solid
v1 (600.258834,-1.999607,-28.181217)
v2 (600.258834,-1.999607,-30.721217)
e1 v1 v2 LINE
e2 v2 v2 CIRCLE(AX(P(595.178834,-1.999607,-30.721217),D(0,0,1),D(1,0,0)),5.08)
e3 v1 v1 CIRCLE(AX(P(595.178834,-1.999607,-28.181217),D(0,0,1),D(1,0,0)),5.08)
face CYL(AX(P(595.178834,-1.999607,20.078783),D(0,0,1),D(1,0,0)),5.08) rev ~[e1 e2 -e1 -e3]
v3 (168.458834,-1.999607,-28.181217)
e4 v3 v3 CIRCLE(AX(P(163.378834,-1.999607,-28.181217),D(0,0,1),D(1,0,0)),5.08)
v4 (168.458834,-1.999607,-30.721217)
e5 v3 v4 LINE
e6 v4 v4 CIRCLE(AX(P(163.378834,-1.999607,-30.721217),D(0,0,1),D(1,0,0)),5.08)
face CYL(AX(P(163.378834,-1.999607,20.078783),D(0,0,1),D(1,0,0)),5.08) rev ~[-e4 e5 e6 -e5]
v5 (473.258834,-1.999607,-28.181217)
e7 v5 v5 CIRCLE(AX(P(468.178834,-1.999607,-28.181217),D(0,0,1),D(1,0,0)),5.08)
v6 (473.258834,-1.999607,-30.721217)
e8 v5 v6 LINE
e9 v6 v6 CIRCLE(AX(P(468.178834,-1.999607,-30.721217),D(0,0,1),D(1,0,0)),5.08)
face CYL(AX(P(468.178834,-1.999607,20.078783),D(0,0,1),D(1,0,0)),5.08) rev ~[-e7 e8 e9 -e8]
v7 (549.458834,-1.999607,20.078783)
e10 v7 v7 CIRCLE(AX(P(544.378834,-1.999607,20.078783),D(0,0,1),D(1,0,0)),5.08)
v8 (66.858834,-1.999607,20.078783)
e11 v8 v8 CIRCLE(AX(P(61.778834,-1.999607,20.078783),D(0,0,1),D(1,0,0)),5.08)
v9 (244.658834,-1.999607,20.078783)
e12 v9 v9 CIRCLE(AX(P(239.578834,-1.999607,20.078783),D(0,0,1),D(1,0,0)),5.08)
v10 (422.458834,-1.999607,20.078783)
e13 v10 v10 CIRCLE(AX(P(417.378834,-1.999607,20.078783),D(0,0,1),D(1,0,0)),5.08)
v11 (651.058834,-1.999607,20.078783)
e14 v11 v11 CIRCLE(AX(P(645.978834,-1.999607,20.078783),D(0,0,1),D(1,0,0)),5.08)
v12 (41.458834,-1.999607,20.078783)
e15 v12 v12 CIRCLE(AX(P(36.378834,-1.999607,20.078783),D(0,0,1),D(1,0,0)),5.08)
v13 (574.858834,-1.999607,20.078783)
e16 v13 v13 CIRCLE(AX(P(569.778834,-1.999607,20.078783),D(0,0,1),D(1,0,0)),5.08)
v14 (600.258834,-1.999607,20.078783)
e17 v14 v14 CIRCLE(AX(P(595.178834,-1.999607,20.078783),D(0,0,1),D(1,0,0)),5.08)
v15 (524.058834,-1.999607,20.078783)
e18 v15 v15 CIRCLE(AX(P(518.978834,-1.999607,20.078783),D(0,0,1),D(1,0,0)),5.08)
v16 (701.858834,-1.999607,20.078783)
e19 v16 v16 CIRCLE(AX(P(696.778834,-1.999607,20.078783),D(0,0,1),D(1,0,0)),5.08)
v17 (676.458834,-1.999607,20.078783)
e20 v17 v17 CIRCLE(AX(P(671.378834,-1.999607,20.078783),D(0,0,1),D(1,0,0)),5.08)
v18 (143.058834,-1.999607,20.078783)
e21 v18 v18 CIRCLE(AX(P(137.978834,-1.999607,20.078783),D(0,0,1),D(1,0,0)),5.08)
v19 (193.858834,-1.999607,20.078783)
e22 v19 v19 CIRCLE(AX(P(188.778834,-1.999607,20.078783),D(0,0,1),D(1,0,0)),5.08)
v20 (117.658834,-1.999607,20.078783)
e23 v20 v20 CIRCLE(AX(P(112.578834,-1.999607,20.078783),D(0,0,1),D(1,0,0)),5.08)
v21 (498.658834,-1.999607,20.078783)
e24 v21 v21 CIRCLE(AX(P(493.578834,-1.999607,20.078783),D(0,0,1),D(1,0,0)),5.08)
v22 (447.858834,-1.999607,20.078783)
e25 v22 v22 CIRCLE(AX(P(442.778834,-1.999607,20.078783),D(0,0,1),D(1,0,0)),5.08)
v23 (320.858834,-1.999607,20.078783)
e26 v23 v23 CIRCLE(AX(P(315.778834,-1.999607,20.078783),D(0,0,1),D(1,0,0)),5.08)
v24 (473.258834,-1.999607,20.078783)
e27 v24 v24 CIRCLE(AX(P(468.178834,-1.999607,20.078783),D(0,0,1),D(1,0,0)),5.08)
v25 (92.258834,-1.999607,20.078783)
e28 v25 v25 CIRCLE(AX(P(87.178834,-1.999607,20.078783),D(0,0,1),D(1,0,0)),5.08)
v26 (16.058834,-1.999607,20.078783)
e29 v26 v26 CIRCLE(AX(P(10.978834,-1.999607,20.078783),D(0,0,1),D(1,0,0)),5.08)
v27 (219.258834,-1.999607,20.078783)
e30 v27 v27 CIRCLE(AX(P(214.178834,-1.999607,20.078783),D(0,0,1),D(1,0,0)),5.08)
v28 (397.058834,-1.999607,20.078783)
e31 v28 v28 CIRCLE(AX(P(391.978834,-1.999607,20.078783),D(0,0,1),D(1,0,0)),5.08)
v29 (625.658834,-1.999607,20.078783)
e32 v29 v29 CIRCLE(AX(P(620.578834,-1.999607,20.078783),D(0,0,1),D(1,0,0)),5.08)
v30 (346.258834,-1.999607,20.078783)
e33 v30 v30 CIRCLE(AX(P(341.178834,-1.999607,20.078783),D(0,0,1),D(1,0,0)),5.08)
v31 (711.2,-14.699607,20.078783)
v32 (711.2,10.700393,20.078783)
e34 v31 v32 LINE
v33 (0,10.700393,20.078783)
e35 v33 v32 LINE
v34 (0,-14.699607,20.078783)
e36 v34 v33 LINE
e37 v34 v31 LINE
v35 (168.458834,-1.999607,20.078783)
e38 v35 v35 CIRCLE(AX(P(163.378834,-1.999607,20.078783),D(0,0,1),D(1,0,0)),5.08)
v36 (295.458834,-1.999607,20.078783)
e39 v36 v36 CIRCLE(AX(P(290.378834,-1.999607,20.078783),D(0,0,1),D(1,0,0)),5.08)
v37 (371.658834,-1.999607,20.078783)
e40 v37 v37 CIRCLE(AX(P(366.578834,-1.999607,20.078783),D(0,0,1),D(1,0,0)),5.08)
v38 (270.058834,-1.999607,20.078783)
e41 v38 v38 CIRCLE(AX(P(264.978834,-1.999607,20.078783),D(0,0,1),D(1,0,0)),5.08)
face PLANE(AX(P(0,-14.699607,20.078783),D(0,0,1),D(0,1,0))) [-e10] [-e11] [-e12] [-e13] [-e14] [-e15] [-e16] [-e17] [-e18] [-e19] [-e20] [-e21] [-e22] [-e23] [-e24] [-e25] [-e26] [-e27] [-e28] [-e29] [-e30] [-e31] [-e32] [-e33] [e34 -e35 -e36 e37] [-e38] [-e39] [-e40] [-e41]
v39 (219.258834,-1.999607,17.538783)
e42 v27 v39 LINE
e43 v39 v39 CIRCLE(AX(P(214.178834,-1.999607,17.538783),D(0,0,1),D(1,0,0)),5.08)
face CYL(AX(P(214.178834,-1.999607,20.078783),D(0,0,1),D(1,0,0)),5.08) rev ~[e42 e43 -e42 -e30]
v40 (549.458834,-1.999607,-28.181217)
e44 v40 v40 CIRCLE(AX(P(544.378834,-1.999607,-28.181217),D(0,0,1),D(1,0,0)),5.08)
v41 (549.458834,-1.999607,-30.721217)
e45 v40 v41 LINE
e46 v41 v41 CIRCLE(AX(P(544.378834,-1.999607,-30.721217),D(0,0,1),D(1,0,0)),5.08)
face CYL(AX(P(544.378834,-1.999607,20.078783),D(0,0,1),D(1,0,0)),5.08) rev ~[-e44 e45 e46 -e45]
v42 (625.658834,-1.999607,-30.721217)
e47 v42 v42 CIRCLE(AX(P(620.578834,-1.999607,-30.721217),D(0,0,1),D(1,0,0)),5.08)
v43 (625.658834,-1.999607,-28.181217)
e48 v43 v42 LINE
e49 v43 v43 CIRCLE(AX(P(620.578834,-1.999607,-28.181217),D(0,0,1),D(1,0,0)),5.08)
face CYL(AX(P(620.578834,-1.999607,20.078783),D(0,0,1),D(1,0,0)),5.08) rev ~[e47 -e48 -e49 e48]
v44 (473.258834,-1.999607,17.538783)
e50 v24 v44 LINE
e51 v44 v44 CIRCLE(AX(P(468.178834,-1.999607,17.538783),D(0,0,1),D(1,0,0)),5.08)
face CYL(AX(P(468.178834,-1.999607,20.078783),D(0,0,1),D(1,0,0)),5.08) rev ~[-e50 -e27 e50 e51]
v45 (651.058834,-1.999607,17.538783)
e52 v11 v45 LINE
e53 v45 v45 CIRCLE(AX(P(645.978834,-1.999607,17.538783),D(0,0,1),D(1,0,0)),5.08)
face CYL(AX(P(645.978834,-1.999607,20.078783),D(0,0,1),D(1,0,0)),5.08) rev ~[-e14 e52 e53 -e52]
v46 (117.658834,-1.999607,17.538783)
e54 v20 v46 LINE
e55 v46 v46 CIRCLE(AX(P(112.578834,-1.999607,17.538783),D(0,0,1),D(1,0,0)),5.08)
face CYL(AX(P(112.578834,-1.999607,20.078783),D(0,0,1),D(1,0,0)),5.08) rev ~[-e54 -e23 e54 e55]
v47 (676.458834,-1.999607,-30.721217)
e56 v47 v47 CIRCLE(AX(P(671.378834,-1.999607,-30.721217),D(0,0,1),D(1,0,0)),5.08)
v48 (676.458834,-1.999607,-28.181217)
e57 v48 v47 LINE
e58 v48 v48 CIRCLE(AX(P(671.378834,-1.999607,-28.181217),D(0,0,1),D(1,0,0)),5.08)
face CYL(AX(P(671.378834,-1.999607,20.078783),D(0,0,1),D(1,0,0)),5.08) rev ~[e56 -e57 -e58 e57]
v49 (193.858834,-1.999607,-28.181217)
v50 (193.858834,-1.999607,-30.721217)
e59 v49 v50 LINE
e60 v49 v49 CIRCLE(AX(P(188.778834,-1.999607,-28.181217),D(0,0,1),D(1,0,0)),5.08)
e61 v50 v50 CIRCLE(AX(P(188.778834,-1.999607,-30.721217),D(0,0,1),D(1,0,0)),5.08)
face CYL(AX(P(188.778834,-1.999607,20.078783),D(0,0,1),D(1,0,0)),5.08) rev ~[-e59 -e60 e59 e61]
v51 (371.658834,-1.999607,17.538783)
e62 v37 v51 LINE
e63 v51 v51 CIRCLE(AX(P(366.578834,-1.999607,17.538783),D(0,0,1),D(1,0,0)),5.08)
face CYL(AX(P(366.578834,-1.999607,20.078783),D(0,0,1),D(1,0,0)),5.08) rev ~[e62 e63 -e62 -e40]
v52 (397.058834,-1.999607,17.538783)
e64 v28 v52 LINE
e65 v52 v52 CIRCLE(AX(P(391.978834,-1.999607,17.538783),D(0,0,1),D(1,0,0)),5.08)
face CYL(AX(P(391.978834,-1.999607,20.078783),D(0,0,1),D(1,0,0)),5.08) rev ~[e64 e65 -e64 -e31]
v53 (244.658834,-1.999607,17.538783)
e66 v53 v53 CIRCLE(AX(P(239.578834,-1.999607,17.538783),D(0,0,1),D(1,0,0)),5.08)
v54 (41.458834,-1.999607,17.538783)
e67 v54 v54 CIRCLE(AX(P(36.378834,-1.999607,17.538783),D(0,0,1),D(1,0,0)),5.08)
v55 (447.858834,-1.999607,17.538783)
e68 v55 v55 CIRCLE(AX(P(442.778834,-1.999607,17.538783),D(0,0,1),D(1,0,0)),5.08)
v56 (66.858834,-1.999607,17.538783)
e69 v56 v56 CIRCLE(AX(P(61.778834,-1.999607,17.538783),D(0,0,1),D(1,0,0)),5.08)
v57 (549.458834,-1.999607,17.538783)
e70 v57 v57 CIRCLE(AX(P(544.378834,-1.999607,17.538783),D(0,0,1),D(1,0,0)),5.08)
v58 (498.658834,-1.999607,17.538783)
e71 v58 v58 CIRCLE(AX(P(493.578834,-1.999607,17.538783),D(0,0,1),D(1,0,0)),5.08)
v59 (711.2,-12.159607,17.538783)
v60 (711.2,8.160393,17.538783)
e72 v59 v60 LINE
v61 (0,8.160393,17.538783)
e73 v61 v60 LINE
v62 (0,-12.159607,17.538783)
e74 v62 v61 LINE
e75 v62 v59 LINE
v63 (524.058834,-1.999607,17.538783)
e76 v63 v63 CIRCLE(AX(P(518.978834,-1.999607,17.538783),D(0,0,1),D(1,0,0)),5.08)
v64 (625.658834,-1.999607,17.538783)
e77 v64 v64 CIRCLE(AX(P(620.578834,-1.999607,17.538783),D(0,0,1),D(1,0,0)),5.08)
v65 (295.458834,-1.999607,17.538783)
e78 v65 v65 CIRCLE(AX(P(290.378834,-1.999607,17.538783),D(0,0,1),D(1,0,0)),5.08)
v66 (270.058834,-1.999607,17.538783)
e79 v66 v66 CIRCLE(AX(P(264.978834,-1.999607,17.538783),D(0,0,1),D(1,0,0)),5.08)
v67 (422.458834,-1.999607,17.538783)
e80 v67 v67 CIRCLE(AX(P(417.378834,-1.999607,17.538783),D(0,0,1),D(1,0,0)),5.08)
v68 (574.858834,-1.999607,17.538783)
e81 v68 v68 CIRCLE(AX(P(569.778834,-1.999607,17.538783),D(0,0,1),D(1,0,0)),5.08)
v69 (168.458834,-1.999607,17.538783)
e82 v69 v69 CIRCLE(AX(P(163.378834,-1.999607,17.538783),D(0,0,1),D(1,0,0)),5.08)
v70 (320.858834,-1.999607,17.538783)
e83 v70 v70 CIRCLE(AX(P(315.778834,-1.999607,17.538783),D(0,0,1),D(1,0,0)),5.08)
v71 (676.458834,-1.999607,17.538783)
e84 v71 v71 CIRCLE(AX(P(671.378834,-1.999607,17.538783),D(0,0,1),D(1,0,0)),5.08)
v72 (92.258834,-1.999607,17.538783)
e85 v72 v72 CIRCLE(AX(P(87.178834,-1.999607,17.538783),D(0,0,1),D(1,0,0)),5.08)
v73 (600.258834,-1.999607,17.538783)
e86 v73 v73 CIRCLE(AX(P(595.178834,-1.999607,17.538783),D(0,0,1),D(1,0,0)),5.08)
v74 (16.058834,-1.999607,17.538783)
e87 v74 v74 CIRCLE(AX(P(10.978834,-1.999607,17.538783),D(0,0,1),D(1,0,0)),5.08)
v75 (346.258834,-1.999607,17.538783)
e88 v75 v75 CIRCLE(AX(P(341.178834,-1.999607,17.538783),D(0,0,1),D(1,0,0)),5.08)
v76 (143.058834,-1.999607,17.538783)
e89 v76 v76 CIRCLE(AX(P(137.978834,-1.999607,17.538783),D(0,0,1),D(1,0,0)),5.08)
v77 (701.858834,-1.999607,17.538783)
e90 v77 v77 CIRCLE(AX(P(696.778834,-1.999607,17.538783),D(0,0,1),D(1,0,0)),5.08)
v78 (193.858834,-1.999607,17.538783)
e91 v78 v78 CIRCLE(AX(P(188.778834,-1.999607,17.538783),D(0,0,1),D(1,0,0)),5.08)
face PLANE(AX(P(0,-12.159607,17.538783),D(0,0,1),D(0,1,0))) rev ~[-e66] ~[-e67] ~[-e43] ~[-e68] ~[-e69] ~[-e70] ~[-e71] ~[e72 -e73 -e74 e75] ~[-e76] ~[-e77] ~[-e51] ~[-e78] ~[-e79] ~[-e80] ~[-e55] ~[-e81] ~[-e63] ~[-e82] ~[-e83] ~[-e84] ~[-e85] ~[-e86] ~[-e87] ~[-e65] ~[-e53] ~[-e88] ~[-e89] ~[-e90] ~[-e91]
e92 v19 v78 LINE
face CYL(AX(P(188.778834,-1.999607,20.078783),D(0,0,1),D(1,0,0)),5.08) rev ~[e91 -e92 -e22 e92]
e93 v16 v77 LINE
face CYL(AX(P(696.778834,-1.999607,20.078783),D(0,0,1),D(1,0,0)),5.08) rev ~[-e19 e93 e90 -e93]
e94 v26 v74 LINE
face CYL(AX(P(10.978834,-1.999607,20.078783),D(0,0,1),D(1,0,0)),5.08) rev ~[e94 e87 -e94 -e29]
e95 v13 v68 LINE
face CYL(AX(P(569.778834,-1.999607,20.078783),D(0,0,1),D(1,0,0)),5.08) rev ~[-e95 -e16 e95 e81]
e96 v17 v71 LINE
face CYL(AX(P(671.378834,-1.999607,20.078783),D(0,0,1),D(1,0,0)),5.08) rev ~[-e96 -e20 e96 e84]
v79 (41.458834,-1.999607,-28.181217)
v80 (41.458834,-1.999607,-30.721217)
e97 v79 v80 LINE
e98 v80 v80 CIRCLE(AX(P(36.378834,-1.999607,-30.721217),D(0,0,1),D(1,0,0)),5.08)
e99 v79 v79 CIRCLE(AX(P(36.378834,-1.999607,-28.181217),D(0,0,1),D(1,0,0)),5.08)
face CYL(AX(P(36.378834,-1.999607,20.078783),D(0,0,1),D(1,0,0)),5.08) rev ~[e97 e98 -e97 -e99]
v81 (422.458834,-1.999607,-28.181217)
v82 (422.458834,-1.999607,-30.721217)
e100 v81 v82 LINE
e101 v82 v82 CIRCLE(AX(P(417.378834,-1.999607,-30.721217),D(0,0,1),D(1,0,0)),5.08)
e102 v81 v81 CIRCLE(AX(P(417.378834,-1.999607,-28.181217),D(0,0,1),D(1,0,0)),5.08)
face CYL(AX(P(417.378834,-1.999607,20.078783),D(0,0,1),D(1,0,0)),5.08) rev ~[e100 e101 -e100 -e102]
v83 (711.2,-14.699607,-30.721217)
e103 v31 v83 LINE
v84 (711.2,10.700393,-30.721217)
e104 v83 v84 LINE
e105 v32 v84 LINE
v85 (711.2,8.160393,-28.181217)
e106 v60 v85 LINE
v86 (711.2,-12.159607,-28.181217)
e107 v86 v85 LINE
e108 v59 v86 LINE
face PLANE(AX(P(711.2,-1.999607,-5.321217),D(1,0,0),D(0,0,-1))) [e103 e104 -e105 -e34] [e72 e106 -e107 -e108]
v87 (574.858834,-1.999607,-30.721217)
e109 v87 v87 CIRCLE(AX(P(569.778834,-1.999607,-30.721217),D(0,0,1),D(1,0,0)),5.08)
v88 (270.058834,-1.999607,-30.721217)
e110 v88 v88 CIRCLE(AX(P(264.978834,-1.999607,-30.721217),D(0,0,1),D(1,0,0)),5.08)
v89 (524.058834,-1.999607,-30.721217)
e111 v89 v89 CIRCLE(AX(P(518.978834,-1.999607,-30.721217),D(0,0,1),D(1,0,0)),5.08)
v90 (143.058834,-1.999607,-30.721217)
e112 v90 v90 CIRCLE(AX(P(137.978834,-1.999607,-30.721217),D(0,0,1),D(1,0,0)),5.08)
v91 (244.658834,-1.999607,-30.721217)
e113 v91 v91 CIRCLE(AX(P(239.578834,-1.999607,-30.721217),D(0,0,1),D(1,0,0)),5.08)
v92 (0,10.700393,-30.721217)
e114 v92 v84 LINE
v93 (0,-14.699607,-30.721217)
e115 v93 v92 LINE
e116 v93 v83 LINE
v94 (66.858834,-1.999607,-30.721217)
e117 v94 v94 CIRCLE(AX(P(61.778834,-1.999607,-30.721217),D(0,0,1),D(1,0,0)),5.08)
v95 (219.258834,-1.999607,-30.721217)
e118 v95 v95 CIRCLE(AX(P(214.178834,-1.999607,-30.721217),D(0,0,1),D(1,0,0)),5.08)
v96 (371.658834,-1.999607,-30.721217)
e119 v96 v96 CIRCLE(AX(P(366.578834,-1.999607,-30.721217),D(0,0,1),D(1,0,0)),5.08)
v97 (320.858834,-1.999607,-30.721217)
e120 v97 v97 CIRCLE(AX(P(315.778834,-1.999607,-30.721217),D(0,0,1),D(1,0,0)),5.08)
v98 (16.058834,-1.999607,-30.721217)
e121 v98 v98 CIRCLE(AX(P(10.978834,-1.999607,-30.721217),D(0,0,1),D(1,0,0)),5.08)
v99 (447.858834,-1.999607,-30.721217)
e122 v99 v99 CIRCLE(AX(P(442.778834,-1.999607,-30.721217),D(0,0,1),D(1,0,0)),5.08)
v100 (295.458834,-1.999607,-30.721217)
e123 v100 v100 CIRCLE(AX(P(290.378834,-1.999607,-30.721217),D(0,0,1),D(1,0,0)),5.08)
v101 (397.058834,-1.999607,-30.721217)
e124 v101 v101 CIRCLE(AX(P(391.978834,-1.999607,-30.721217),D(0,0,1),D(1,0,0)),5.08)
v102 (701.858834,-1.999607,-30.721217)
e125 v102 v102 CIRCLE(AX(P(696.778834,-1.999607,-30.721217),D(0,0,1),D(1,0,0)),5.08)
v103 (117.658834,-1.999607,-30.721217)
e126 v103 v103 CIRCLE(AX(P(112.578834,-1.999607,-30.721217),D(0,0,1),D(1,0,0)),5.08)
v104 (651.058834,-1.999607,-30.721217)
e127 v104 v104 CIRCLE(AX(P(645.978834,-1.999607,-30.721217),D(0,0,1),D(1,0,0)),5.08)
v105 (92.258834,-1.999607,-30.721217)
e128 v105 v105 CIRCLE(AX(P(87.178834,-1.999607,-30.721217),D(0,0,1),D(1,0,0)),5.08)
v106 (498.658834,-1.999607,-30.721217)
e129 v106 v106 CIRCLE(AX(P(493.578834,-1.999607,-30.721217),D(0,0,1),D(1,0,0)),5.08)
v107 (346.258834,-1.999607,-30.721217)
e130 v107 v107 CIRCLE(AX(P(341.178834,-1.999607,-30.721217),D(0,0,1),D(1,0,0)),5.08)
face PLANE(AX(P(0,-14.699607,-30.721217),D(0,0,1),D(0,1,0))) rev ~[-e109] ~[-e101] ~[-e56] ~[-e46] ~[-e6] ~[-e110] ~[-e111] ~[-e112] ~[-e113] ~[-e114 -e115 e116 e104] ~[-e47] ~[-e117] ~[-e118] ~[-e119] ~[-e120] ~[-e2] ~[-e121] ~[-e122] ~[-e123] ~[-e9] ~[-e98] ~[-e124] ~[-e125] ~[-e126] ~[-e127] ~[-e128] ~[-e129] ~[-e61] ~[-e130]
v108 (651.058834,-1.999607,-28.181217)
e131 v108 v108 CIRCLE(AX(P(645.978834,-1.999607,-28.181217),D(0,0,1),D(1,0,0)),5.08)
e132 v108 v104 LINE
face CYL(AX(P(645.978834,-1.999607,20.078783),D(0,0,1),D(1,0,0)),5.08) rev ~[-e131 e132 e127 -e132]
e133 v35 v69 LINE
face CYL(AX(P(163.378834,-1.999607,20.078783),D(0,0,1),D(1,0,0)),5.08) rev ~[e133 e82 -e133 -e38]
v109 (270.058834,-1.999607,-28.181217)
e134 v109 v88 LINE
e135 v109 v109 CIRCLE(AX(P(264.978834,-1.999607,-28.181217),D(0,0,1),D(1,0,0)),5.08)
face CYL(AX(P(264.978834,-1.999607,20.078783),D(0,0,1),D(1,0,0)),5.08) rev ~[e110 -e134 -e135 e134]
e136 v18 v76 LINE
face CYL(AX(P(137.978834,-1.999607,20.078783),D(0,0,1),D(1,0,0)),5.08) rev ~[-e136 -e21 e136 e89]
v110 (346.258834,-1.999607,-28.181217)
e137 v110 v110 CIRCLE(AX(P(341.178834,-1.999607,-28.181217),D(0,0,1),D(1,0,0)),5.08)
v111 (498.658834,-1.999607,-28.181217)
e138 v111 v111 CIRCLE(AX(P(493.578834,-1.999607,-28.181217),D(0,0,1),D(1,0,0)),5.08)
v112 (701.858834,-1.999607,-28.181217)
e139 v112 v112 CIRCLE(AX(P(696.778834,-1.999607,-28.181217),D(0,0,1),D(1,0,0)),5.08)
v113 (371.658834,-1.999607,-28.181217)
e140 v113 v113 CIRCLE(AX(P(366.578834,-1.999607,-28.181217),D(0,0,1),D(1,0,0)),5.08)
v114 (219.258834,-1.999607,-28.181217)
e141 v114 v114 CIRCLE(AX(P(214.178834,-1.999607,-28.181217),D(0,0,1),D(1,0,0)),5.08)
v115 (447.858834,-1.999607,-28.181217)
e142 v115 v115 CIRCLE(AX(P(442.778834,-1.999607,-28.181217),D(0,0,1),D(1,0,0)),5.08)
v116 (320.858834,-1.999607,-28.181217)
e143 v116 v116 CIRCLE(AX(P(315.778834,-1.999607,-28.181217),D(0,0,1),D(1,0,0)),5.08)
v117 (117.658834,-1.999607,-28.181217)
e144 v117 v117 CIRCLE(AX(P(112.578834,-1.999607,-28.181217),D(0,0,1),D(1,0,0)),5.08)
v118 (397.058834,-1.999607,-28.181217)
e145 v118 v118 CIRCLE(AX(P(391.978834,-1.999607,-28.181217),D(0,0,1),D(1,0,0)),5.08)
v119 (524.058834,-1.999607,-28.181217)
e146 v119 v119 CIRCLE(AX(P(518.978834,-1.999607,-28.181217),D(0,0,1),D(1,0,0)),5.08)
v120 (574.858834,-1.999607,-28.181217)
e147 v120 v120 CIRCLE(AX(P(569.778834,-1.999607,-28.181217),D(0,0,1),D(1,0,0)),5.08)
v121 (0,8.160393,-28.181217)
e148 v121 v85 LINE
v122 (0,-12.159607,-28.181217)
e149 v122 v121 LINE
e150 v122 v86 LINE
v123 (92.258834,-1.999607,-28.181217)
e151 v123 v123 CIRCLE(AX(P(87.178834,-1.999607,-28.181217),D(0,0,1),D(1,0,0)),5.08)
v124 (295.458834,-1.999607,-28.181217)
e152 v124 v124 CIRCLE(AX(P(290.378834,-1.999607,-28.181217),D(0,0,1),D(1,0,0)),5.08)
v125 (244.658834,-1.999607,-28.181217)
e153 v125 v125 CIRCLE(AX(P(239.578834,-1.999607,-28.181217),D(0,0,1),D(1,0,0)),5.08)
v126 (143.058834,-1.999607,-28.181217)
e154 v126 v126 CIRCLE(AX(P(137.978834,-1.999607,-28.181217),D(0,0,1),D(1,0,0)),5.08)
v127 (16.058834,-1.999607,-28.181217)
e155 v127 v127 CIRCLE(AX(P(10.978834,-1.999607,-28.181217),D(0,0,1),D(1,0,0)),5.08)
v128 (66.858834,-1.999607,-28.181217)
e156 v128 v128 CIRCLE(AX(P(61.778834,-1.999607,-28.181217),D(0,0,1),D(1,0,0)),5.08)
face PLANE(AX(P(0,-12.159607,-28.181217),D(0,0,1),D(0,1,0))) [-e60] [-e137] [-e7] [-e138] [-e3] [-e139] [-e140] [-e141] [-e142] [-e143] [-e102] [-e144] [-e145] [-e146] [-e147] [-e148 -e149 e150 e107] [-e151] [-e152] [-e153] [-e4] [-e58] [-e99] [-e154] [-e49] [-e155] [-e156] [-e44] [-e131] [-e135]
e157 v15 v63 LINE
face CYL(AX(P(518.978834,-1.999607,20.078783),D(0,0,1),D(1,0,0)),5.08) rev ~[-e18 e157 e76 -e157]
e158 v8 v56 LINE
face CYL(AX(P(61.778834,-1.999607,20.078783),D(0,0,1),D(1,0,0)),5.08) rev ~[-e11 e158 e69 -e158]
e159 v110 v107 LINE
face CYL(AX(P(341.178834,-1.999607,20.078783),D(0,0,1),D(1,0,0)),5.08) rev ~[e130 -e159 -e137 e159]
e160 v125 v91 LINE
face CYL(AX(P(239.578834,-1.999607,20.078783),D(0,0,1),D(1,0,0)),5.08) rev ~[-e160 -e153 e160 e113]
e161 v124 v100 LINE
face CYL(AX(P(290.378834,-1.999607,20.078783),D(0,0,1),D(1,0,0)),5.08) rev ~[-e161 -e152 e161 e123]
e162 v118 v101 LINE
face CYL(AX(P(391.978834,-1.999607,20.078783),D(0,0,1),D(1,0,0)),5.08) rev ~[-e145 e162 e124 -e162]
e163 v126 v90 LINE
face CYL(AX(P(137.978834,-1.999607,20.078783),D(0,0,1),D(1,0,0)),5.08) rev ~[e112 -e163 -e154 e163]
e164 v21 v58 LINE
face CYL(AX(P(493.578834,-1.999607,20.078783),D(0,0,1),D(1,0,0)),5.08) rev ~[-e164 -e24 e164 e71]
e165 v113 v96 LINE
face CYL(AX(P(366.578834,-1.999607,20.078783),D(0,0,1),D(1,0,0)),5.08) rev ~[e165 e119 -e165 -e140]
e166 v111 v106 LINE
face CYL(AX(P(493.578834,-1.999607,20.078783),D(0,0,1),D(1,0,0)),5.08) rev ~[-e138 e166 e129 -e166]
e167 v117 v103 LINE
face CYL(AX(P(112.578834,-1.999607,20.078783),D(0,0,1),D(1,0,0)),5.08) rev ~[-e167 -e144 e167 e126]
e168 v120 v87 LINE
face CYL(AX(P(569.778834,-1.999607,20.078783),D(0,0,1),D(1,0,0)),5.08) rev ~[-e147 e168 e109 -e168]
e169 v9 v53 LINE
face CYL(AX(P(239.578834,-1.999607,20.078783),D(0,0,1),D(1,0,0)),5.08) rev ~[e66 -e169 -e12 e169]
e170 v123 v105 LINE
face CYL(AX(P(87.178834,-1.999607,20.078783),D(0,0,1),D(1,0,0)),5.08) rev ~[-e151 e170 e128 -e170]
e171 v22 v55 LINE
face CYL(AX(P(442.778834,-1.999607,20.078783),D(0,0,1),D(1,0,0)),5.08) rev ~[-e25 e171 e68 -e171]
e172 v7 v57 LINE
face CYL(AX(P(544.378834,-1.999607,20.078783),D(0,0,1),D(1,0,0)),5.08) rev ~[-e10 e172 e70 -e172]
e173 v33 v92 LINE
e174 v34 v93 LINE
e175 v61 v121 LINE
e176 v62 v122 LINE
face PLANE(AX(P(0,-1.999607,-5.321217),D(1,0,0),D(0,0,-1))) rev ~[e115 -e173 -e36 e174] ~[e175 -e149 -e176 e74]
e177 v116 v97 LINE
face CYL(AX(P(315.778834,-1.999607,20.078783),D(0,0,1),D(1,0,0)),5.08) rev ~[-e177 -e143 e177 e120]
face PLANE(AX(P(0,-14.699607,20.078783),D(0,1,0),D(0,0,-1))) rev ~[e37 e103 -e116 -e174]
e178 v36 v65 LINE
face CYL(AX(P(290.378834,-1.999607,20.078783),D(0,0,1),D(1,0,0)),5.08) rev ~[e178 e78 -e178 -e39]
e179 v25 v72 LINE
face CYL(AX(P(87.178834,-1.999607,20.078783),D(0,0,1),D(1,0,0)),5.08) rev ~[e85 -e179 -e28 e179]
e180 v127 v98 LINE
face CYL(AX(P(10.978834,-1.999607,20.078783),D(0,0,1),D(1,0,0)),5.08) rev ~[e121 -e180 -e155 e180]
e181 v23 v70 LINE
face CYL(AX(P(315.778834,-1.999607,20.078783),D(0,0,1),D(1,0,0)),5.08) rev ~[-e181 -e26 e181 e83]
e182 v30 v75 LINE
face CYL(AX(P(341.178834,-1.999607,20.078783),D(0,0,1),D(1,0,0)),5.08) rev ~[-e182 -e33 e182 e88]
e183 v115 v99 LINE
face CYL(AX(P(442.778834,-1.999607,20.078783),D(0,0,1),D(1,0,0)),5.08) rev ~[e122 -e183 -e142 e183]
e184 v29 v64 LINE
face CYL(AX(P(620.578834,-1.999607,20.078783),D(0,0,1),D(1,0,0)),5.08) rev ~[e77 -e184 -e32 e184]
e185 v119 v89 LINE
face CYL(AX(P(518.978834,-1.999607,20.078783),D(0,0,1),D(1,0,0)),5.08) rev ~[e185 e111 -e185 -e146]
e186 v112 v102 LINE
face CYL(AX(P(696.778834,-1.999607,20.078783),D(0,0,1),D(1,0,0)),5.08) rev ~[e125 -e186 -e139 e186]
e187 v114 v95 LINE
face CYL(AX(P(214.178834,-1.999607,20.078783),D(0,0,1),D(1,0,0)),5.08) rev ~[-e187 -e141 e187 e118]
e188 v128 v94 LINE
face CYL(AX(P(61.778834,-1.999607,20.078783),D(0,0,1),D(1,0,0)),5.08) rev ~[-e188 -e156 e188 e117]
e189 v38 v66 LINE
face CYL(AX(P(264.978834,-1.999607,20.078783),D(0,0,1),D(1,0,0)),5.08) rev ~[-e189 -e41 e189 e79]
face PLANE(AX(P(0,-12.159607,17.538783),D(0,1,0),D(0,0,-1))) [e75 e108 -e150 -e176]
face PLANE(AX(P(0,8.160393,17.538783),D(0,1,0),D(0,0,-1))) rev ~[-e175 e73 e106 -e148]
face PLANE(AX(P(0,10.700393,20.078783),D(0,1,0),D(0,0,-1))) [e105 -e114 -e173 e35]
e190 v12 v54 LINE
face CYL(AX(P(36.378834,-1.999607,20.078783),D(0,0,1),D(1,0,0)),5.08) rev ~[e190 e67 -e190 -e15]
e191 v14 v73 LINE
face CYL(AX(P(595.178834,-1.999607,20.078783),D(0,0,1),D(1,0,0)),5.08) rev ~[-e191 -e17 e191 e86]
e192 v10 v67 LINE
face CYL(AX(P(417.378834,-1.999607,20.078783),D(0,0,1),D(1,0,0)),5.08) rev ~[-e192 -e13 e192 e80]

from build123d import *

# Parameters (mm, degrees)
SKETCH3_W           = 50.8
SKETCH3_H           = 25.4
SKETCH3_W_2         = 45.72
SKETCH3_H_2         = 20.32
BOSS_EXTRUDE1_DEPTH = 711.2
SKETCH5_R           = 5.08
CUT_EXTRUDE2_DEPTH  = 127


with BuildPart() as part:
    # Sketch3 → Boss-Extrude1 (new body)
    with BuildSketch(Plane(origin=(0, 0, 0), x_dir=(0, 0, -1), z_dir=(1, 0, 0))):
        with Locations((5.321216632, -1.999606833)):
            Rectangle(SKETCH3_W, SKETCH3_H)
        with Locations((5.321216632, -1.999606833)):
            Rectangle(SKETCH3_W_2, SKETCH3_H_2, mode=Mode.SUBTRACT)
    extrude(amount=BOSS_EXTRUDE1_DEPTH)

    # Sketch5 → Cut-Extrude2 (cut)
    with BuildSketch(Plane.XY.offset(20.078783368)):
        with Locations((10.978833808, -1.999606833)):
            Circle(SKETCH5_R)
        with Locations((36.378833808, -1.999606833)):
            Circle(SKETCH5_R)
        with Locations((61.778833808, -1.999606833)):
            Circle(SKETCH5_R)
        with Locations((87.178833808, -1.999606833)):
            Circle(SKETCH5_R)
        with Locations((112.578833808, -1.999606833)):
            Circle(SKETCH5_R)
        with Locations((137.978833808, -1.999606833)):
            Circle(SKETCH5_R)
        with Locations((163.378833808, -1.999606833)):
            Circle(SKETCH5_R)
        with Locations((188.778833808, -1.999606833)):
            Circle(SKETCH5_R)
        with Locations((214.178833808, -1.999606833)):
            Circle(SKETCH5_R)
        with Locations((239.578833808, -1.999606833)):
            Circle(SKETCH5_R)
        with Locations((264.978833808, -1.999606833)):
            Circle(SKETCH5_R)
        with Locations((290.378833808, -1.999606833)):
            Circle(SKETCH5_R)
        with Locations((315.778833808, -1.999606833)):
            Circle(SKETCH5_R)
        with Locations((341.178833808, -1.999606833)):
            Circle(SKETCH5_R)
        with Locations((366.578833808, -1.999606833)):
            Circle(SKETCH5_R)
        with Locations((391.978833808, -1.999606833)):
            Circle(SKETCH5_R)
        with Locations((417.378833808, -1.999606833)):
            Circle(SKETCH5_R)
        with Locations((442.778833808, -1.999606833)):
            Circle(SKETCH5_R)
        with Locations((468.178833808, -1.999606833)):
            Circle(SKETCH5_R)
        with Locations((493.578833808, -1.999606833)):
            Circle(SKETCH5_R)
        with Locations((518.978833808, -1.999606833)):
            Circle(SKETCH5_R)
        with Locations((544.378833808, -1.999606833)):
            Circle(SKETCH5_R)
        with Locations((569.778833808, -1.999606833)):
            Circle(SKETCH5_R)
        with Locations((595.178833808, -1.999606833)):
            Circle(SKETCH5_R)
        with Locations((620.578833808, -1.999606833)):
            Circle(SKETCH5_R)
        with Locations((645.978833808, -1.999606833)):
            Circle(SKETCH5_R)
        with Locations((671.378833808, -1.999606833)):
            Circle(SKETCH5_R)
        with Locations((696.778833808, -1.999606833)):
            Circle(SKETCH5_R)
    extrude(amount=-CUT_EXTRUDE2_DEPTH, mode=Mode.SUBTRACT)


solid = part.part
